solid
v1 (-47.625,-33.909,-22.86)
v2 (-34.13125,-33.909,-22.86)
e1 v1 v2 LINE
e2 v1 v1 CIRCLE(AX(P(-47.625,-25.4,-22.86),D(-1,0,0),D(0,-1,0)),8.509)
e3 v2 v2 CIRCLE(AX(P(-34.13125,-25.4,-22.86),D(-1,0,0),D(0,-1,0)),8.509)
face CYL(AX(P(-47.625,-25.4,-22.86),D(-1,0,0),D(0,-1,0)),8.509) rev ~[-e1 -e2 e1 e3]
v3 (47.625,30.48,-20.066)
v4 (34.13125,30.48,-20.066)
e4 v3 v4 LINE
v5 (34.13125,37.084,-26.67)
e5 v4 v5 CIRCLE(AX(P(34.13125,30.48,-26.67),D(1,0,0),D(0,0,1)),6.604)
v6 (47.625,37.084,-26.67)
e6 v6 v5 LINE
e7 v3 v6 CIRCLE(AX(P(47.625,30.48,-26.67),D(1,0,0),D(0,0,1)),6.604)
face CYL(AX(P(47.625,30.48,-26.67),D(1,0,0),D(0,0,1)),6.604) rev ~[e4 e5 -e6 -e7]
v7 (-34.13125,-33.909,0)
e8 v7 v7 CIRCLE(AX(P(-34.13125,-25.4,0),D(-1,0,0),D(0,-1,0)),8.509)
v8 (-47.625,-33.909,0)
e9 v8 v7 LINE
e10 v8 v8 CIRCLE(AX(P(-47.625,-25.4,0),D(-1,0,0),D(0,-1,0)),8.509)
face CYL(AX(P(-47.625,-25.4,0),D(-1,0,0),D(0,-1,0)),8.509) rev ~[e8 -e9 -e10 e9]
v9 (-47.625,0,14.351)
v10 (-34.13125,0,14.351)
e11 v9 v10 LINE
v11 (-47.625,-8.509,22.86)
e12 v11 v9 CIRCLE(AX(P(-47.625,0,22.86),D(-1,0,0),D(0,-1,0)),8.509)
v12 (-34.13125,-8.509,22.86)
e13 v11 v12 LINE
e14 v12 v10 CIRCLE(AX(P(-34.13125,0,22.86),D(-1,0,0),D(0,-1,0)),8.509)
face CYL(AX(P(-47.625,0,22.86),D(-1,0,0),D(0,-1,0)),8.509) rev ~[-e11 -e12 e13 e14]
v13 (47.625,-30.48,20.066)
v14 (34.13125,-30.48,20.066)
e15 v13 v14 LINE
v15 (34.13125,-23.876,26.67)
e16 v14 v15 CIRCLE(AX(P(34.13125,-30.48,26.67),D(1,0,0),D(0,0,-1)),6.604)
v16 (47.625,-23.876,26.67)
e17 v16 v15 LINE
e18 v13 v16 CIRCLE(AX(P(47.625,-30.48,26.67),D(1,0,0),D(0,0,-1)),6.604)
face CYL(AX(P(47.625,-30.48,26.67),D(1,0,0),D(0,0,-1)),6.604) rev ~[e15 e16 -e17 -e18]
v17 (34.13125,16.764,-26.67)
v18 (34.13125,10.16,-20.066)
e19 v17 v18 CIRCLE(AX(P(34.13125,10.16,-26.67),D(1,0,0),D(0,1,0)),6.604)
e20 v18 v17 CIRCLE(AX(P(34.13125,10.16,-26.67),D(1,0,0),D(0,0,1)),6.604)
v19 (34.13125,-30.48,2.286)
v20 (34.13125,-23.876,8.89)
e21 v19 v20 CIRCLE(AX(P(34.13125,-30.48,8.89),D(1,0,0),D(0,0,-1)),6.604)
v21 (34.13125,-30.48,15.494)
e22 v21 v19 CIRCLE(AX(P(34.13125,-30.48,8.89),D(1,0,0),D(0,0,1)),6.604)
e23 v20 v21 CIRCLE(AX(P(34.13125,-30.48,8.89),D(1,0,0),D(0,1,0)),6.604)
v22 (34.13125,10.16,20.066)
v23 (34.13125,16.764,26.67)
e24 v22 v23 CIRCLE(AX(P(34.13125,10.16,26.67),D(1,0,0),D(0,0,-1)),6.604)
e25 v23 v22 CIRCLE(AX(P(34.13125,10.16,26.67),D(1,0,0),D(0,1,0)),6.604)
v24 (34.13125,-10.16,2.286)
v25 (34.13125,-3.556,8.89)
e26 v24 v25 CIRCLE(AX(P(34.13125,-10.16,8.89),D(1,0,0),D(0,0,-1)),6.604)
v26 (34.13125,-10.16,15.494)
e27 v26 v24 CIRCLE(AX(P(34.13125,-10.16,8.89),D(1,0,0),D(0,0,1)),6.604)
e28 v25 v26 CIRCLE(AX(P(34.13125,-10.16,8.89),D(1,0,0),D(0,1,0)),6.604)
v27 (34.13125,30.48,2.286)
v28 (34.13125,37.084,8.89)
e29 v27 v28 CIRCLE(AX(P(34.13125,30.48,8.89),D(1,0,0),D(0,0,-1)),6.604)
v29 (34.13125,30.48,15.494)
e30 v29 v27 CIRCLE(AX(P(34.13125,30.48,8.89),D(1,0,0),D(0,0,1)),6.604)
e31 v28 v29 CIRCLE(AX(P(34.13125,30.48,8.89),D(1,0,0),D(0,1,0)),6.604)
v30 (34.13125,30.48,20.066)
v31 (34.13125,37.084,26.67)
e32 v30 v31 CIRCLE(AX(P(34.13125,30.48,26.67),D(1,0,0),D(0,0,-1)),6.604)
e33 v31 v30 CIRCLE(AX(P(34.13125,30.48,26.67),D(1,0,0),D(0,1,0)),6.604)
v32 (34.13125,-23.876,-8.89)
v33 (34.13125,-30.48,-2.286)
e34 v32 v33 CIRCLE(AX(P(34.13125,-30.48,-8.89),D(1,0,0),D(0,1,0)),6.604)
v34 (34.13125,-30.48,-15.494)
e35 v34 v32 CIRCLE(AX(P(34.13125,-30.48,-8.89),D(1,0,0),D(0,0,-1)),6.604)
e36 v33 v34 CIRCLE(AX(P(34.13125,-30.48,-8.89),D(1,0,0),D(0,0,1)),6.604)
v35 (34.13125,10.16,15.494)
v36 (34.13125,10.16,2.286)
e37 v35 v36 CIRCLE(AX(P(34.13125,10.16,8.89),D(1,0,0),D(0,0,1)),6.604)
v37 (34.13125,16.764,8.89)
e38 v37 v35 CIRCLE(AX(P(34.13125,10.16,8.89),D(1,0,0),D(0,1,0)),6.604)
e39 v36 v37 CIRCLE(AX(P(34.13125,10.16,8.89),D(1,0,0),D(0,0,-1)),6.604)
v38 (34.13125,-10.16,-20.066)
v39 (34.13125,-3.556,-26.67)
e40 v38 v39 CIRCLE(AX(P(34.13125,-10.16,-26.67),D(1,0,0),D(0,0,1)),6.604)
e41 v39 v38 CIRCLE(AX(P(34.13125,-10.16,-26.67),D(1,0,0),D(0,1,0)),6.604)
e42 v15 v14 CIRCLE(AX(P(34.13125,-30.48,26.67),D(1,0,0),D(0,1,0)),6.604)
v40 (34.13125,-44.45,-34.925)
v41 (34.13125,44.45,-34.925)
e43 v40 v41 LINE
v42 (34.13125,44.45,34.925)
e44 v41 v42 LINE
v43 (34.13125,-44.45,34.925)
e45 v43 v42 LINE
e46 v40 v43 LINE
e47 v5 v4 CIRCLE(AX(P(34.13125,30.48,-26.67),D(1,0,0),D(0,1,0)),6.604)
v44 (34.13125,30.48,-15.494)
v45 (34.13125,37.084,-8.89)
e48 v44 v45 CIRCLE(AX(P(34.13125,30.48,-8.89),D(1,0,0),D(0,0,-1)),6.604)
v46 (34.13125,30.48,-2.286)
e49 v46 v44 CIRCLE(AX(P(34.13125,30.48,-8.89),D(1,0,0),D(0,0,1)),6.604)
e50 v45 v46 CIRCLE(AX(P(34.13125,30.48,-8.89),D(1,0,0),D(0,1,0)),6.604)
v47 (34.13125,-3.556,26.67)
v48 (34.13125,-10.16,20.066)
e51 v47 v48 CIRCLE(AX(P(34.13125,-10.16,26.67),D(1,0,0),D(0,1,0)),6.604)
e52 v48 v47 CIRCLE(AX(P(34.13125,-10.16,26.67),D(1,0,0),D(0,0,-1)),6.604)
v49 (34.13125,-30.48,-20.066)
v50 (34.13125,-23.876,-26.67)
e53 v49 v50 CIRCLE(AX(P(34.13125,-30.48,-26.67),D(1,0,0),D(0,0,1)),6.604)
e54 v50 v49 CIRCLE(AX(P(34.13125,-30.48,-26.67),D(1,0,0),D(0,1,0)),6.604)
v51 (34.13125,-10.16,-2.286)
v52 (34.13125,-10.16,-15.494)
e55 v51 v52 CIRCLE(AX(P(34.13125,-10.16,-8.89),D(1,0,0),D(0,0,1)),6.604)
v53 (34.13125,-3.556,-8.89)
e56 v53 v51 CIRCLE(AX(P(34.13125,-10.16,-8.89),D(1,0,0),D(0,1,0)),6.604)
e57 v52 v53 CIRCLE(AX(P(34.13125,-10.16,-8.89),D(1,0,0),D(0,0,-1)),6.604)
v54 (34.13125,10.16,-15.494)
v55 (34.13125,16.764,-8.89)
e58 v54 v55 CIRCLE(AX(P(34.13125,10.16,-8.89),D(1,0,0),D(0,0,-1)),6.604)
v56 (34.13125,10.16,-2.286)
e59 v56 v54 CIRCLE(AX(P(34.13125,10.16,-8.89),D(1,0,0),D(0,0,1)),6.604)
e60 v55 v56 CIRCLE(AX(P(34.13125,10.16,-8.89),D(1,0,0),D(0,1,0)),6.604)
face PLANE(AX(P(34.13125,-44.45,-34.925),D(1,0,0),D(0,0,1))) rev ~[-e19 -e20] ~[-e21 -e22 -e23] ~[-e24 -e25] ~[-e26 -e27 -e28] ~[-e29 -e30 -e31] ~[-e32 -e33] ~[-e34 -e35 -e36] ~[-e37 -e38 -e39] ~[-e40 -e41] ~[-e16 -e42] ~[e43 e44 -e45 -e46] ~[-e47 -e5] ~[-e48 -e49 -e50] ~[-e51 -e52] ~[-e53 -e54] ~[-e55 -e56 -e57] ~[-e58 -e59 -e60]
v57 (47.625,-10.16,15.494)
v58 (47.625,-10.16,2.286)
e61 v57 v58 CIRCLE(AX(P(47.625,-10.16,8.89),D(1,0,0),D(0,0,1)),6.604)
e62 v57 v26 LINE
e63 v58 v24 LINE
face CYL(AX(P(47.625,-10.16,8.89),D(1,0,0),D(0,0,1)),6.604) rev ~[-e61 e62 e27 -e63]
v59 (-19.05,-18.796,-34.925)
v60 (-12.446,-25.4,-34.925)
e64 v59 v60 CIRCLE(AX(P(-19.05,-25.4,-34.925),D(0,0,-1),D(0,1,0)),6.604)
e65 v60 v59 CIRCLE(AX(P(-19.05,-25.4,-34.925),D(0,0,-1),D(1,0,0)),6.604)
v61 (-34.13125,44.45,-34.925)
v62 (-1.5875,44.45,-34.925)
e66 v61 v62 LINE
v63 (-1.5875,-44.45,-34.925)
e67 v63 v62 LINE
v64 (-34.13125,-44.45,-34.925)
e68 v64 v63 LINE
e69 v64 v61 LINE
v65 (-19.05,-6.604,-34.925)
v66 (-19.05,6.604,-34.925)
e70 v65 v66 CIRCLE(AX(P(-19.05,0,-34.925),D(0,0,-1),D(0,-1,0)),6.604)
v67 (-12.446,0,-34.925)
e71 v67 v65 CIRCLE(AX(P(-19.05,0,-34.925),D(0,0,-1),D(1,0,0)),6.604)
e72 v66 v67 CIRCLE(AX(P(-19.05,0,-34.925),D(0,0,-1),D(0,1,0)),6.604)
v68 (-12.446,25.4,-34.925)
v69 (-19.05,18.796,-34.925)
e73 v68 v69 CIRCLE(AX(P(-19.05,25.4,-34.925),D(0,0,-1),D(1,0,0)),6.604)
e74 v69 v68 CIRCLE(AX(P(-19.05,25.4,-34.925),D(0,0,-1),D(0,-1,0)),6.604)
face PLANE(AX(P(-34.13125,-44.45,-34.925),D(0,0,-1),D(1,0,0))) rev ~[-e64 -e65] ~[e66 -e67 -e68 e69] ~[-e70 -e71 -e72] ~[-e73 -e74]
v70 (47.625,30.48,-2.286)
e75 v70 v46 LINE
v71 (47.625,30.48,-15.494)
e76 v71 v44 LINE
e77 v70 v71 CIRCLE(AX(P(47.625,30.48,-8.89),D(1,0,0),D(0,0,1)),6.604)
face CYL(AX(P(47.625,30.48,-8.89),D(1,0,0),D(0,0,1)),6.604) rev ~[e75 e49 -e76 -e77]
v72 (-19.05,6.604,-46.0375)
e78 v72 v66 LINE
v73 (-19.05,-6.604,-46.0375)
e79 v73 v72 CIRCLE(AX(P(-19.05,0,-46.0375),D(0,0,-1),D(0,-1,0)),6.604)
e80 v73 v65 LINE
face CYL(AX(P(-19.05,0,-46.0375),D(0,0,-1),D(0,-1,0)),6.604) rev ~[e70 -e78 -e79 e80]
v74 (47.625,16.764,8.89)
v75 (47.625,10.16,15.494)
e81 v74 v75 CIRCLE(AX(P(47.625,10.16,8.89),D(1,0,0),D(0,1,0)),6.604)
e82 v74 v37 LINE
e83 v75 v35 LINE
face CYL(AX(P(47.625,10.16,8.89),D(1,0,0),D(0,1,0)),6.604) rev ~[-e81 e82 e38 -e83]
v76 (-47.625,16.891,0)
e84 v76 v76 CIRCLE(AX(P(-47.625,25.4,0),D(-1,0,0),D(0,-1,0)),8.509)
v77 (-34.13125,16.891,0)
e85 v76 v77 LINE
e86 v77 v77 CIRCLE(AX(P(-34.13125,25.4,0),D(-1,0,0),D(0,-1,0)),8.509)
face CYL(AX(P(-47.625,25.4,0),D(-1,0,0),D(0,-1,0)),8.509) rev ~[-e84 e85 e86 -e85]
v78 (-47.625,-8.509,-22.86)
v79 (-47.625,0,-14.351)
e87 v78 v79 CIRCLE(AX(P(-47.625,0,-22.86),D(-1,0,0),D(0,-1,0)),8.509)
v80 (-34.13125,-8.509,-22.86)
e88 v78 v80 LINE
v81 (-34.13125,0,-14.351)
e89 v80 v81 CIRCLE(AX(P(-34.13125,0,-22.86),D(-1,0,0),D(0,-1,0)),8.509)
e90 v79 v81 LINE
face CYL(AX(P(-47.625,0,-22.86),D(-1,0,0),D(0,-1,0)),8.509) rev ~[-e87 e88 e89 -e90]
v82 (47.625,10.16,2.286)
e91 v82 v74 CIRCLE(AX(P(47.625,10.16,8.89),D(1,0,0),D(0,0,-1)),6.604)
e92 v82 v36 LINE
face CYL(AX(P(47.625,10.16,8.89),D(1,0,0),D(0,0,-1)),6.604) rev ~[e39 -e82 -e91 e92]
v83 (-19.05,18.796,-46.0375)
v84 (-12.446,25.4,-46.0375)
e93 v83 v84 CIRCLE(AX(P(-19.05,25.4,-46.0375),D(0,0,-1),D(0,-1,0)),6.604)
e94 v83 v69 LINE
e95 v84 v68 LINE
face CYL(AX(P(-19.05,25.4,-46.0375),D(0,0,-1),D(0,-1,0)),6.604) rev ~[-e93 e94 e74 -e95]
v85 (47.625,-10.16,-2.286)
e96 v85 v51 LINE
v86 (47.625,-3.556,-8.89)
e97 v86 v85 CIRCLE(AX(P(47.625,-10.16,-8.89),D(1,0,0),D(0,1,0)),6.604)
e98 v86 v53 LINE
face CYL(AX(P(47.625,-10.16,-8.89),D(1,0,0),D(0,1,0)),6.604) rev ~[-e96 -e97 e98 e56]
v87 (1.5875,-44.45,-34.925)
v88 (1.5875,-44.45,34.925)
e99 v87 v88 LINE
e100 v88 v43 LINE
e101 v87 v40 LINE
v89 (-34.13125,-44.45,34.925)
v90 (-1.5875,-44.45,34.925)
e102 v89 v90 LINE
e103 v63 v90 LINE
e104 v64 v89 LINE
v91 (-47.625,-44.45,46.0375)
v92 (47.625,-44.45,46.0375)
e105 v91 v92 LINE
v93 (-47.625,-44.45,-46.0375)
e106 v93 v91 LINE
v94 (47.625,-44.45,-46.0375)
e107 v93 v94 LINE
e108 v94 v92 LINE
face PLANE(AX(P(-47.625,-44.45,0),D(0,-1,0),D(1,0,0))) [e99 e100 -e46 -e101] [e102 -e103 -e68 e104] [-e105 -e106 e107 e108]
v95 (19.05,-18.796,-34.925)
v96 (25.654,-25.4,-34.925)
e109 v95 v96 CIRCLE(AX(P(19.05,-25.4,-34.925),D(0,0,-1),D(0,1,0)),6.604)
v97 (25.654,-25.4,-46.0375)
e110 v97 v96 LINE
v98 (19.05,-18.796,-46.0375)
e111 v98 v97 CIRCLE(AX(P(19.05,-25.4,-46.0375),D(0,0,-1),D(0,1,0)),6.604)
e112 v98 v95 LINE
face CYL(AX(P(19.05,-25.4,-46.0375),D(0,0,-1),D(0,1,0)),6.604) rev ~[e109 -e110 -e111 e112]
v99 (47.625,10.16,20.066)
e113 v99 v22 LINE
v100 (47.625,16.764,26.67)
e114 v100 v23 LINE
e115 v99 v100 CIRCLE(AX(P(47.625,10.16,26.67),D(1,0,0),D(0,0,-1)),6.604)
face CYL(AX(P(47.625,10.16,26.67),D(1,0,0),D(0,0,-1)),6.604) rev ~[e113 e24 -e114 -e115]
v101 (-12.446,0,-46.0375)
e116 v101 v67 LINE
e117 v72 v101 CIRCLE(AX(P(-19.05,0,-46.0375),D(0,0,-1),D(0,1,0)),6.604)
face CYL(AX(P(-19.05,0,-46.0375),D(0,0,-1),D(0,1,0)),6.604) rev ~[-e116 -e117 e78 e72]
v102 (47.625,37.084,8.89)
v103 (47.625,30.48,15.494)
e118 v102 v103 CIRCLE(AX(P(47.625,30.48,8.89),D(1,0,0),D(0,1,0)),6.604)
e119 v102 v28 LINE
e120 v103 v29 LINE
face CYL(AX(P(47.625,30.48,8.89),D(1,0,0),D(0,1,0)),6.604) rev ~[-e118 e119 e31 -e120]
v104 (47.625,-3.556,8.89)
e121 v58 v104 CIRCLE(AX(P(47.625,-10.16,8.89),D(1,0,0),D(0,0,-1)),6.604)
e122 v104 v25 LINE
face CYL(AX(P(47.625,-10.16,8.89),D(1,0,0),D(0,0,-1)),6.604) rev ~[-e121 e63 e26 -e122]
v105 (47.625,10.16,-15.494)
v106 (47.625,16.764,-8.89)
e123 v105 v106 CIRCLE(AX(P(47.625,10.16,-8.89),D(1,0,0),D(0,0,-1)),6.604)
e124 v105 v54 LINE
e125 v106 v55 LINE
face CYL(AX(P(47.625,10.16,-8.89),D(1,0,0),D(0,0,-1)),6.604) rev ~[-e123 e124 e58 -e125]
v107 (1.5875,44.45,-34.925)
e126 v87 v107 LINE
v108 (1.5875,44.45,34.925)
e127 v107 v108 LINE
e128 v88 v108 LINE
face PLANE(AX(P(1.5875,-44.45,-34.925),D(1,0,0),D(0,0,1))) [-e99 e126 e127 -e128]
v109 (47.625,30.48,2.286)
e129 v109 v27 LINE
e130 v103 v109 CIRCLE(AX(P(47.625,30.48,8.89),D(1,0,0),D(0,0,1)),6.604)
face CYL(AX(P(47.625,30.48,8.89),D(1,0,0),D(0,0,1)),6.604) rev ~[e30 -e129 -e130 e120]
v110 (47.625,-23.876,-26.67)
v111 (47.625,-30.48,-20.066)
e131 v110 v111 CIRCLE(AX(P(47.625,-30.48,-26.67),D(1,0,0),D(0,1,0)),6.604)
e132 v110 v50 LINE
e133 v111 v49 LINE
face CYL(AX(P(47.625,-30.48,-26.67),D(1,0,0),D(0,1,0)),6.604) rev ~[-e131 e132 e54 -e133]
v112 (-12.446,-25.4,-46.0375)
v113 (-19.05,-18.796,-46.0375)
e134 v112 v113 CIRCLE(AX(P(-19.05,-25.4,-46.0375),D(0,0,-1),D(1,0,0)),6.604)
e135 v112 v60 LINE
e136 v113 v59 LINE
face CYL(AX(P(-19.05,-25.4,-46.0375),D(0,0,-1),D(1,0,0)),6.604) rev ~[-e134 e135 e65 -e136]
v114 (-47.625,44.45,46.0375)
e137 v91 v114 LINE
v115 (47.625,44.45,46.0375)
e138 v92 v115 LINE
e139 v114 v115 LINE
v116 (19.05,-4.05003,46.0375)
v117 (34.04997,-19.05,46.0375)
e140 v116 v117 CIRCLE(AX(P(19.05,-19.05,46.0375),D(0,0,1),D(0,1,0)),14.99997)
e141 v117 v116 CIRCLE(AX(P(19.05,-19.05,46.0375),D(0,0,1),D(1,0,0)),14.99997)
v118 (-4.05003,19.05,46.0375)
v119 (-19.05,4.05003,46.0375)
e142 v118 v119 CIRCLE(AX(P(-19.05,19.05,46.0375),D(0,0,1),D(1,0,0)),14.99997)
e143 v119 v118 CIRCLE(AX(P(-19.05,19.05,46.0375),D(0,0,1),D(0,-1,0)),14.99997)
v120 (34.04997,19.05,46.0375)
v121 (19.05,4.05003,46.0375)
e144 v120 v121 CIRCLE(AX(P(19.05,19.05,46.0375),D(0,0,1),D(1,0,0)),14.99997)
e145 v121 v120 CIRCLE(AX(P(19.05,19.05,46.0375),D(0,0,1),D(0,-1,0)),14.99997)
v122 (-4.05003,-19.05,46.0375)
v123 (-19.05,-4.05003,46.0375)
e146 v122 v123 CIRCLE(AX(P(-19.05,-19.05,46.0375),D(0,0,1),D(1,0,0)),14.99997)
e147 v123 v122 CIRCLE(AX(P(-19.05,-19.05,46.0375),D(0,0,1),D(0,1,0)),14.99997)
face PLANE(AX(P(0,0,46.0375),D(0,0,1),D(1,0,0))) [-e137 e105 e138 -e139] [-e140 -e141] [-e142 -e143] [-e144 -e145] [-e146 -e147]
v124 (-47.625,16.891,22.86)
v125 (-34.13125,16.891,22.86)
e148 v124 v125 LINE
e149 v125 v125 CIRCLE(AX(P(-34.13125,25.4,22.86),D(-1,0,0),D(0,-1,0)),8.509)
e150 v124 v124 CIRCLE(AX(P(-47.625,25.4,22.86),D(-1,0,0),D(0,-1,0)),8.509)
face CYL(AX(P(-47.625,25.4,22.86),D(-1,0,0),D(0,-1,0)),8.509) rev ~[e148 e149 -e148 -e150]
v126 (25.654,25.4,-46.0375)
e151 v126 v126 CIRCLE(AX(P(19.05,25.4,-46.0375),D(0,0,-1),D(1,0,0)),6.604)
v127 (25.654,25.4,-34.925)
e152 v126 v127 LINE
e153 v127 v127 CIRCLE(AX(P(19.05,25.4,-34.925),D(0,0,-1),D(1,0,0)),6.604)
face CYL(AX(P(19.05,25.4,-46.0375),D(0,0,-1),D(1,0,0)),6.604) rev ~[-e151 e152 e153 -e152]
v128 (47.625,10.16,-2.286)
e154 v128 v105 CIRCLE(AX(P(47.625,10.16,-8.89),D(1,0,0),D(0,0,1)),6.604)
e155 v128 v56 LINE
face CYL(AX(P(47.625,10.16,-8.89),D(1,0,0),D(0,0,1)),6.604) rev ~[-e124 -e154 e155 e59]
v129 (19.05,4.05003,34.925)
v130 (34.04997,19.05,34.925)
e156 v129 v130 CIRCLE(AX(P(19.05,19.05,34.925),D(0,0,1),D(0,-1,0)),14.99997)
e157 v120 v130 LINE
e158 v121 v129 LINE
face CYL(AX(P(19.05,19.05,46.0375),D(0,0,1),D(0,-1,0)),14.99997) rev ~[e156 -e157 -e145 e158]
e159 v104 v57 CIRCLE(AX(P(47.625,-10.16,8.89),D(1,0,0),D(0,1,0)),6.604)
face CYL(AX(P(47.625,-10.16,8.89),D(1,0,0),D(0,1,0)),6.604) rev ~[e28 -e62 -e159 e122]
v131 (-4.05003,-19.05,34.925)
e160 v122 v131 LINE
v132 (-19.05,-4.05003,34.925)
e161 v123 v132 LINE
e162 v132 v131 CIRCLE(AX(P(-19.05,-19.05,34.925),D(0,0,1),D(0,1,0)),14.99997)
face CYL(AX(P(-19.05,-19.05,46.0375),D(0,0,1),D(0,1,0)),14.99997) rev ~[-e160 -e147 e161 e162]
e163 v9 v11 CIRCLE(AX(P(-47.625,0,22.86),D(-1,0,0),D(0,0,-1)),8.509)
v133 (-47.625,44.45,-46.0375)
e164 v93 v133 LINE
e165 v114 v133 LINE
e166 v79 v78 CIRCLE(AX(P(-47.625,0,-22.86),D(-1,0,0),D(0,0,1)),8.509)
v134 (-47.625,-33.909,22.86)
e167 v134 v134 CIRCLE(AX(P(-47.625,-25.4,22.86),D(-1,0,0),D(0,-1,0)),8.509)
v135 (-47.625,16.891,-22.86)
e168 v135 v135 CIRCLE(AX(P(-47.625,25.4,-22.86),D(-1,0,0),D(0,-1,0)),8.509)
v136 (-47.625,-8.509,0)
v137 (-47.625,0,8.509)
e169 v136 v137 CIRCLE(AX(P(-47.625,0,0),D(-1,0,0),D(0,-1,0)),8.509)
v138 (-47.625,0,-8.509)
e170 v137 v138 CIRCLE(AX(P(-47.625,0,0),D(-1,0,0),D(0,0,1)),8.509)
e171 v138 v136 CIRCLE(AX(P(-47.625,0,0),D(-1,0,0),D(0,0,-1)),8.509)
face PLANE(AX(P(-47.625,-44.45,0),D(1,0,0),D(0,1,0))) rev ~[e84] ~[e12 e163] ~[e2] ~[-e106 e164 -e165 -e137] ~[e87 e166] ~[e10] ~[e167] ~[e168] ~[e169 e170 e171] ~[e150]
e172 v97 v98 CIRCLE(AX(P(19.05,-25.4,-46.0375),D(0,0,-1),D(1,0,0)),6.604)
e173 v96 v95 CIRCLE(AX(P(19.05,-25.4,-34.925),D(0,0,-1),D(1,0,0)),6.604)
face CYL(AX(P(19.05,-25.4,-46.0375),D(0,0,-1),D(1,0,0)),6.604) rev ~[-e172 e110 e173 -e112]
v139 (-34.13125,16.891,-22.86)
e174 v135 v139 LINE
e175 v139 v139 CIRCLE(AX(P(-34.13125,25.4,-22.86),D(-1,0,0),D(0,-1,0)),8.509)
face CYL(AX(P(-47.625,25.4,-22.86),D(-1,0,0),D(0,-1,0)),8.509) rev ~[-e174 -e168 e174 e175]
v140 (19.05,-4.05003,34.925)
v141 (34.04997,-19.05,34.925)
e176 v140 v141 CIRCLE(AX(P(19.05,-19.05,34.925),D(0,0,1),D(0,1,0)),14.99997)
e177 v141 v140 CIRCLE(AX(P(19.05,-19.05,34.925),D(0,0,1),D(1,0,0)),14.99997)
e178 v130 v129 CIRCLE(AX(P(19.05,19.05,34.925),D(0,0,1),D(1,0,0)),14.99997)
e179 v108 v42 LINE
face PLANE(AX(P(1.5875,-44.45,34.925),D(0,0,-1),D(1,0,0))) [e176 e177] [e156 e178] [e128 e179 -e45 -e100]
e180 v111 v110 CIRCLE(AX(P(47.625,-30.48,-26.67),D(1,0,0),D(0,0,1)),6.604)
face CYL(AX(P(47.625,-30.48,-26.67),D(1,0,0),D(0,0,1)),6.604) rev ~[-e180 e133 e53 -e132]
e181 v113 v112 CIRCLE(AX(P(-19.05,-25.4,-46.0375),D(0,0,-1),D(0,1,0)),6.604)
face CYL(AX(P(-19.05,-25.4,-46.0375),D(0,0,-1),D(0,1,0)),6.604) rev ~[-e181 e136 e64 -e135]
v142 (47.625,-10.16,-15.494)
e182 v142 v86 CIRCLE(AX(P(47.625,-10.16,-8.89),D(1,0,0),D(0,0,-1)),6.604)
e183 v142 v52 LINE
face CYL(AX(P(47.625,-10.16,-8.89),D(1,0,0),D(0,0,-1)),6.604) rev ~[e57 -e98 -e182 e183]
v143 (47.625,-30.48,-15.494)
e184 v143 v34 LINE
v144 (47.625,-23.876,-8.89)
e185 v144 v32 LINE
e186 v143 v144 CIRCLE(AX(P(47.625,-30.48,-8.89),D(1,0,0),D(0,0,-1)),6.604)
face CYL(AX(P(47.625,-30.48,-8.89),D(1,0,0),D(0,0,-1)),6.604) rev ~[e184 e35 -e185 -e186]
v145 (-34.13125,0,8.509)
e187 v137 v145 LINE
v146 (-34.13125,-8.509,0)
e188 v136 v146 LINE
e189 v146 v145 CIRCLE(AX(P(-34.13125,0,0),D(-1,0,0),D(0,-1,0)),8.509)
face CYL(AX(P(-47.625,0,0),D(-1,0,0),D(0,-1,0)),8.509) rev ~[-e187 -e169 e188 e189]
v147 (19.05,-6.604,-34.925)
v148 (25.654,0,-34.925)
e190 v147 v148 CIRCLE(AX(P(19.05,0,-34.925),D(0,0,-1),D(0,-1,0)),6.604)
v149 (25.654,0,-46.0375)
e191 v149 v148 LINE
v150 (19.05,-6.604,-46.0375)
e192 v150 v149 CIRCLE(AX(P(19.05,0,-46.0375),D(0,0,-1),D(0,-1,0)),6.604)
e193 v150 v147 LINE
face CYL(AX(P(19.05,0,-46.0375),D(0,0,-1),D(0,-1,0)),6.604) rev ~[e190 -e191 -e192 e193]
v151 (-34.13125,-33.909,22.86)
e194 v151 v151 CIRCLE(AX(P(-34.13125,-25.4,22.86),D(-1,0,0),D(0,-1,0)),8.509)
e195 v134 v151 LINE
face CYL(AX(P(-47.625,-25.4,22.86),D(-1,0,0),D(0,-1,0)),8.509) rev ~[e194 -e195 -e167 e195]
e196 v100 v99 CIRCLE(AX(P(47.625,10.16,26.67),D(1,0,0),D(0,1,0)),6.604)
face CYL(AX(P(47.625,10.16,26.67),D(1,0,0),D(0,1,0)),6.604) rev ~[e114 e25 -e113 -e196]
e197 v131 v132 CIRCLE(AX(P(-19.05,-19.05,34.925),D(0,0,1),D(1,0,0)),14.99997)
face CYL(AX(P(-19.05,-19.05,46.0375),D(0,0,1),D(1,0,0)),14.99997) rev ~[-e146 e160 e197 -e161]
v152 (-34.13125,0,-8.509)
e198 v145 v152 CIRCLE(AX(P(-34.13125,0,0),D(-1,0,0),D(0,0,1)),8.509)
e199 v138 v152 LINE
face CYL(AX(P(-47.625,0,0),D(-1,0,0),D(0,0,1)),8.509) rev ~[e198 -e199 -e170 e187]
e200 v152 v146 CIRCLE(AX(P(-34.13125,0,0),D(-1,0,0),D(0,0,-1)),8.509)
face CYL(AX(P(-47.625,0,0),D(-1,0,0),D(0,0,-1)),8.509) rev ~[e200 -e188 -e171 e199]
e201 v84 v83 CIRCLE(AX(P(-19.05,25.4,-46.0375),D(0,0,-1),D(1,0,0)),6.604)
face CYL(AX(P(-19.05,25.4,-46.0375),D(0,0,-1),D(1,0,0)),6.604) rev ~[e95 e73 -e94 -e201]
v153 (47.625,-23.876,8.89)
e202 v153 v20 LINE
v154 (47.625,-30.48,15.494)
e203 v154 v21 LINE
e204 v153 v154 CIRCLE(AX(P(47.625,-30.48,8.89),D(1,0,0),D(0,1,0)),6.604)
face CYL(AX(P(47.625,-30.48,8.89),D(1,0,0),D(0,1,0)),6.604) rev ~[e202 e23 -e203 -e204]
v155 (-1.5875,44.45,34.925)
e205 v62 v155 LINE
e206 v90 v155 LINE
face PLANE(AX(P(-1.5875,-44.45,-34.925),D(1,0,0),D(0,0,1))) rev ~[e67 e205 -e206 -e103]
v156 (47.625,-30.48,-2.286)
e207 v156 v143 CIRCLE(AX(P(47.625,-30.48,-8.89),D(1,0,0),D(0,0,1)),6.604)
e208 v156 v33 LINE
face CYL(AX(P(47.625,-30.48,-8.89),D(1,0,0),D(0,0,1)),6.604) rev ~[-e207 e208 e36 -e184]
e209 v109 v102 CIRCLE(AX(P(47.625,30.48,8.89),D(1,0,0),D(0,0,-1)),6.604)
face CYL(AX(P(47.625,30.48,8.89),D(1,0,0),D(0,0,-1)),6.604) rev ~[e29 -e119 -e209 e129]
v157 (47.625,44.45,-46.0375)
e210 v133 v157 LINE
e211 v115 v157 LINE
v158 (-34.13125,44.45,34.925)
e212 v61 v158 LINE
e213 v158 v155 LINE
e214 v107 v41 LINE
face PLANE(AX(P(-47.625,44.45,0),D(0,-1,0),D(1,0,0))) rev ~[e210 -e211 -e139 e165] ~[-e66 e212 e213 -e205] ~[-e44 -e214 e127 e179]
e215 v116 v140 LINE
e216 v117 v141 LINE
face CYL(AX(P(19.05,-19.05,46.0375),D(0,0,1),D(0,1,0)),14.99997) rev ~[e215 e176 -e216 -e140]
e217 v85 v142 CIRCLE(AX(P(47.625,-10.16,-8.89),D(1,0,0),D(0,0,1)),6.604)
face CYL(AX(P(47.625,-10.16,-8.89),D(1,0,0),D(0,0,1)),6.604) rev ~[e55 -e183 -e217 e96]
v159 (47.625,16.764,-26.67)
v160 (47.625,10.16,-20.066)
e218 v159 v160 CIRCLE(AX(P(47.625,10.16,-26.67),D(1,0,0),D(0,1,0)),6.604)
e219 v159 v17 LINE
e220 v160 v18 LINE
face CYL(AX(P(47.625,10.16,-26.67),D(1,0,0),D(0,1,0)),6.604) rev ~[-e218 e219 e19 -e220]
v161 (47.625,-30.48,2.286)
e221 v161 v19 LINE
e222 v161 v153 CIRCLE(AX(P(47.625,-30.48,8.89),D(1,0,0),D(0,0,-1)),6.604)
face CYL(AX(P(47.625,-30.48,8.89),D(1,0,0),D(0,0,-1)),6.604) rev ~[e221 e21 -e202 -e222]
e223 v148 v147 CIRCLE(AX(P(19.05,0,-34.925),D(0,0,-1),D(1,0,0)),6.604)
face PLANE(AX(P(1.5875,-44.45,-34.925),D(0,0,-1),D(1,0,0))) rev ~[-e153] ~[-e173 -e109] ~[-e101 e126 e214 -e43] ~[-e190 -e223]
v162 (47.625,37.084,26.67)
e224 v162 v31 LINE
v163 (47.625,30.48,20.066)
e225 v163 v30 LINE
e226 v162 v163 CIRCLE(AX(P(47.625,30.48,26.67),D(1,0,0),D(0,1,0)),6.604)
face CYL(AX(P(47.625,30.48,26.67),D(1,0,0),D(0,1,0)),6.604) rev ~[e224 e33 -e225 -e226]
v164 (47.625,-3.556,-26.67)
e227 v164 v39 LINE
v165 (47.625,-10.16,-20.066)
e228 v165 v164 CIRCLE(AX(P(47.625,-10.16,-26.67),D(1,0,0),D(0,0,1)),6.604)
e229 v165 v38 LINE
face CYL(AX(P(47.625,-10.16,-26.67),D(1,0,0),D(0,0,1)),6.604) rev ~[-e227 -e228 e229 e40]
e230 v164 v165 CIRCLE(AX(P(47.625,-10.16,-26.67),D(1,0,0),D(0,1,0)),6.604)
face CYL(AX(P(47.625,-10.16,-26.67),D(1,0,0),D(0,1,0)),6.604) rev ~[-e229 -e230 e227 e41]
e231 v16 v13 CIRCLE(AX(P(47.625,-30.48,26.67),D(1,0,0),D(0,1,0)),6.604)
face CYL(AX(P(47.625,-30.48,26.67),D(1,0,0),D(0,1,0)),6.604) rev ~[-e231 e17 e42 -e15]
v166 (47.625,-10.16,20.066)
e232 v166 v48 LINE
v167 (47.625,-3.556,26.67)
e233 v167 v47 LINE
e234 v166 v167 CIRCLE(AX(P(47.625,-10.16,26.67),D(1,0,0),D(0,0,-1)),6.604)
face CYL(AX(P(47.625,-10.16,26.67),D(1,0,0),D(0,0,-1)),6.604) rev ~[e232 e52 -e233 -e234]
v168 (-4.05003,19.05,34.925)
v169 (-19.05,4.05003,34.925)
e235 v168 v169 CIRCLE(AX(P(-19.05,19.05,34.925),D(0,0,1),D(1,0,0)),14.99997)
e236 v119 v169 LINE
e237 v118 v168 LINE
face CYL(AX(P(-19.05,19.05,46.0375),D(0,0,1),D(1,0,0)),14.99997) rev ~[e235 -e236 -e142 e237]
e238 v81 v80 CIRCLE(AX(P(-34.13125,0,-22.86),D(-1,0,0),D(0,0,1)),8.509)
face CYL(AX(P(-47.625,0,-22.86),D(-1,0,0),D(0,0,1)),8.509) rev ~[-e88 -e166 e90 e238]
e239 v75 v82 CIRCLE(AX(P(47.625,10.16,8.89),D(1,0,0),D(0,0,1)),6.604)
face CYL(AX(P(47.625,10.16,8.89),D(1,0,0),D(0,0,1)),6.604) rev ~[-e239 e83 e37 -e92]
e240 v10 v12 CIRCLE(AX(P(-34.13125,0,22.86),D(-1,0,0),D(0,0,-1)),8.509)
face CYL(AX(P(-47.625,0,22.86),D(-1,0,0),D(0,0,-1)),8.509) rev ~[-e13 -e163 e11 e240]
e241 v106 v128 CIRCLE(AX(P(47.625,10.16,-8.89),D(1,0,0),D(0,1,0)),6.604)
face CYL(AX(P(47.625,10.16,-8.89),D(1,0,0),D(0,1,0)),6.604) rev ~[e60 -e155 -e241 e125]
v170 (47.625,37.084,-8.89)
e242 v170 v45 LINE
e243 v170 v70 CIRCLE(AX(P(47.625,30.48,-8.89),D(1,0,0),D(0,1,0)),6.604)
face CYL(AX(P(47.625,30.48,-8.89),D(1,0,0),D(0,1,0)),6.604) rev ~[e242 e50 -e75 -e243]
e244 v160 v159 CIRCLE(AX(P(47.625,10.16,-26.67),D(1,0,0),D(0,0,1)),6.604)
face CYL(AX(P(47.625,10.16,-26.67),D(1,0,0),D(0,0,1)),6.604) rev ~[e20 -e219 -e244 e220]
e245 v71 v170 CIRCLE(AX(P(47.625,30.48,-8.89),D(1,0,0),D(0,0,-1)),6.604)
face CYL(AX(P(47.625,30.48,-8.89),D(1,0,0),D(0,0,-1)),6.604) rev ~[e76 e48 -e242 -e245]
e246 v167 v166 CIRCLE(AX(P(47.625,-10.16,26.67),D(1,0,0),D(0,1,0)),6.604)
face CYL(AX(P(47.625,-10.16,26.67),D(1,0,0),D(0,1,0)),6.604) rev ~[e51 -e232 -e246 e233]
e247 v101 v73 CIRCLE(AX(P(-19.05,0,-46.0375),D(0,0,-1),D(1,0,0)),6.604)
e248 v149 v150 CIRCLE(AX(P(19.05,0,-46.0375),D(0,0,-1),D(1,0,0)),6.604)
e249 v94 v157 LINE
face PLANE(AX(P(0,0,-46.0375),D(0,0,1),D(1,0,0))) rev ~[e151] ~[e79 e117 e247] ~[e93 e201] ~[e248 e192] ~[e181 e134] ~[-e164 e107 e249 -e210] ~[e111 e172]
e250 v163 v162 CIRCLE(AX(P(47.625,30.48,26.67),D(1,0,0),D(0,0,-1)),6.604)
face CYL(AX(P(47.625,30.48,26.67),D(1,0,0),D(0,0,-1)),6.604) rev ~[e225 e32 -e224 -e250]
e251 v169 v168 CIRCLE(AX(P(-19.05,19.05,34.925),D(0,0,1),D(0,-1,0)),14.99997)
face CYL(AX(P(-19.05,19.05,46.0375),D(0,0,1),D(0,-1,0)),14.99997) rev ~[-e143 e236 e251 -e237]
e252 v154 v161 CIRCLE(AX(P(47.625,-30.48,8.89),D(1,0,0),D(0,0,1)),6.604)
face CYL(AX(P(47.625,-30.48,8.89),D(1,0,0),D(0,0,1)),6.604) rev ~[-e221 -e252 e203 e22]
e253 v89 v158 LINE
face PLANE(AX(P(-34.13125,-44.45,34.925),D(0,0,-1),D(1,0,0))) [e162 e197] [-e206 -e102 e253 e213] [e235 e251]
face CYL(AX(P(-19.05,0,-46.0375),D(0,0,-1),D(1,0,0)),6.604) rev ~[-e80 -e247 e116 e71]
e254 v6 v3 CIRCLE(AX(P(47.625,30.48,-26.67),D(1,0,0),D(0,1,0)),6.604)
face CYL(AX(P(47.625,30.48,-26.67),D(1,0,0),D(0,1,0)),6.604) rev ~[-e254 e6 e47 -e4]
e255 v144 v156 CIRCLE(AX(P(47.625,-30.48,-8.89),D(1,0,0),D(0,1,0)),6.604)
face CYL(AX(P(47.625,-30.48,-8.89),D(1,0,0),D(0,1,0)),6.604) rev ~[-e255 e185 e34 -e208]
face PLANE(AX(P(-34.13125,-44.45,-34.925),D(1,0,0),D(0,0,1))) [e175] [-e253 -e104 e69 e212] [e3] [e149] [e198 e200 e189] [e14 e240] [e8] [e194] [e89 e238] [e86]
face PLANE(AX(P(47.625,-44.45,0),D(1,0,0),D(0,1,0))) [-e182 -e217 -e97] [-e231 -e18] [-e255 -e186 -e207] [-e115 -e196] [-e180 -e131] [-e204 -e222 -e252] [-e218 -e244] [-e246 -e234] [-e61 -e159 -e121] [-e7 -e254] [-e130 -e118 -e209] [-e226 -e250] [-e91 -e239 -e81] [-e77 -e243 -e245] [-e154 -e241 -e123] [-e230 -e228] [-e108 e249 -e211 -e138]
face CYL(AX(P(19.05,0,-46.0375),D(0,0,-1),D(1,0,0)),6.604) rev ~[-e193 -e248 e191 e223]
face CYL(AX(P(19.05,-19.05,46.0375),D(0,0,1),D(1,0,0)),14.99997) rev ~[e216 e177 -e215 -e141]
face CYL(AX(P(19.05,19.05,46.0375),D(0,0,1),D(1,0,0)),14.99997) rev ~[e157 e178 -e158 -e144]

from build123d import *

# Parameters (mm, degrees)
F0_W          = 95.25
F0_H          = 88.9
F1_DEPTH      = 46.0375
F1_DEPTH_BACK = 46.0375
F2_W          = 32.54375
F2_H          = 69.85
F3_DEPTH      = 88.9
F5_DEPTH      = 11.1125
F6_R          = 8.509
F7_DEPTH      = 13.49375
F8_R          = 6.604
F9_DEPTH      = 11.1125
F11_DEPTH     = 13.49375


with BuildPart() as f1:
    # F0 (on Top) → F1 (new body, two sides)
    with BuildSketch(Plane.XY) as f1_sk:
        Rectangle(F0_W, F0_H)
    extrude(amount=F1_DEPTH)
    extrude(f1_sk.sketch, amount=-F1_DEPTH_BACK)

    # F2 (on face) → F3 (cut, through all)
    with BuildSketch(Plane.XZ.offset(44.45)):
        with Locations((17.859375, 0)):
            Rectangle(F2_W, F2_H)
        with Locations((-17.859375, 0)):
            Rectangle(F2_W, F2_H)
    extrude(amount=-F3_DEPTH, mode=Mode.SUBTRACT)

    # F4 (on face) → F5 (cut, through all)
    with BuildSketch(Plane.XY.offset(46.0375)):
        with BuildLine():
            ThreePointArc((-4.05003, 19.05), (-29.6565805046, 29.6565805046), (-19.05, 4.05003))
            ThreePointArc((-19.05, 4.05003), (-8.4434194954, 8.4434194954), (-4.05003, 19.05))
        make_face()
        with BuildLine():
            ThreePointArc((34.04997, 19.05), (8.4434194954, 29.6565805046), (19.05, 4.05003))
            ThreePointArc((19.05, 4.05003), (29.6565805046, 8.4434194954), (34.04997, 19.05))
        make_face()
        with BuildLine():
            ThreePointArc((34.04997, -19.05), (29.6565805046, -8.4434194954), (19.05, -4.05003))
            ThreePointArc((19.05, -4.05003), (8.4434194954, -29.6565805046), (34.04997, -19.05))
        make_face()
        with BuildLine():
            ThreePointArc((-4.05003, -19.05), (-8.4434194954, -8.4434194954), (-19.05, -4.05003))
            ThreePointArc((-19.05, -4.05003), (-29.6565805046, -29.6565805046), (-4.05003, -19.05))
        make_face()
    extrude(amount=-F5_DEPTH, mode=Mode.SUBTRACT)

    # F6 (on face) → F7 (cut, through all)
    with BuildSketch(Plane(origin=(-47.625, 0, 0), x_dir=(0, -1, 0), z_dir=(-1, 0, 0))):
        with BuildLine():
            ThreePointArc((0, -8.509), (6.0167716011, -6.0167716011), (8.509, 0))
            ThreePointArc((8.509, 0), (6.0167716011, 6.0167716011), (0, 8.509))
            Line((0, 8.509), (0, 0))
            Line((0, 0), (0, -8.509))
        make_face()
        with BuildLine():
            ThreePointArc((8.509, -22.86), (6.0167716011, -16.8432283989), (0, -14.351))
            ThreePointArc((0, -14.351), (-6.0167716011, -28.8767716011), (8.509, -22.86))
        make_face()
        with BuildLine():
            ThreePointArc((8.509, 22.86), (-6.0167716011, 28.8767716011), (0, 14.351))
            ThreePointArc((0, 14.351), (6.0167716011, 16.8432283989), (8.509, 22.86))
        make_face()
        with BuildLine():
            Line((0, 0), (0, 8.509))
            ThreePointArc((0, 8.509), (-8.509, 0), (0, -8.509))
            Line((0, -8.509), (0, 0))
        make_face()
        with Locations((-25.4, 22.86)):
            Circle(F6_R)
        with Locations((-25.4, 0)):
            Circle(F6_R)
        with Locations((-25.4, -22.86)):
            Circle(F6_R)
        with Locations((25.4, 22.86)):
            Circle(F6_R)
        with Locations((25.4, 0)):
            Circle(F6_R)
        with Locations((25.4, -22.86)):
            Circle(F6_R)
    extrude(amount=-F7_DEPTH, mode=Mode.SUBTRACT)

    # F8 (on face) → F9 (cut, through all)
    with BuildSketch(Plane(origin=(0, 0, -46.0375), x_dir=(1, 0, 0), z_dir=(0, 0, -1))):
        with BuildLine():
            ThreePointArc((-19.05, -6.604), (-14.380266817, -4.669733183), (-12.446, 0))
            Line((-12.446, 0), (-19.05, 0))
            Line((-19.05, 0), (-19.05, -6.604))
        make_face()
        with BuildLine():
            Line((-19.05, 0), (-12.446, 0))
            ThreePointArc((-12.446, 0), (-14.380266817, 4.669733183), (-19.05, 6.604))
            Line((-19.05, 6.604), (-19.05, 0))
        make_face()
        with BuildLine():
            ThreePointArc((-12.446, -25.4), (-14.380266817, -20.730266817), (-19.05, -18.796))
            ThreePointArc((-19.05, -18.796), (-23.719733183, -30.069733183), (-12.446, -25.4))
        make_face()
        with BuildLine():
            ThreePointArc((-12.446, 25.4), (-23.719733183, 30.069733183), (-19.05, 18.796))
            ThreePointArc((-19.05, 18.796), (-14.380266817, 20.730266817), (-12.446, 25.4))
        make_face()
        with BuildLine():
            Line((-19.05, -6.604), (-19.05, 0))
            Line((-19.05, 0), (-19.05, 6.604))
            ThreePointArc((-19.05, 6.604), (-25.654, 0), (-19.05, -6.604))
        make_face()
        with BuildLine():
            ThreePointArc((19.05, 18.796), (23.719733183, 20.730266817), (25.654, 25.4))
            ThreePointArc((25.654, 25.4), (14.380266817, 30.069733183), (19.05, 18.796))
        make_face()
        with BuildLine():
            ThreePointArc((25.654, 0), (23.719733183, 4.669733183), (19.05, 6.604))
            ThreePointArc((19.05, 6.604), (14.380266817, -4.669733183), (25.654, 0))
        make_face()
        with Locations((19.05, -25.4)):
            Circle(F8_R)
    extrude(amount=-F9_DEPTH, mode=Mode.SUBTRACT)

    # F10 (on face) → F11 (cut, through all)
    with BuildSketch(Plane.YZ.offset(47.625)):
        with BuildLine():
            ThreePointArc((-23.876, -26.67), (-25.810266817, -22.000266817), (-30.48, -20.066))
            ThreePointArc((-30.48, -20.066), (-35.149733183, -31.339733183), (-23.876, -26.67))
        make_face()
        with BuildLine():
            ThreePointArc((-23.876, -8.89), (-25.810266817, -4.220266817), (-30.48, -2.286))
            Line((-30.48, -2.286), (-30.48, -8.89))
            Line((-30.48, -8.89), (-30.48, -15.494))
            ThreePointArc((-30.48, -15.494), (-25.810266817, -13.559733183), (-23.876, -8.89))
        make_face()
        with BuildLine():
            Line((-30.48, -8.89), (-30.48, -2.286))
            ThreePointArc((-30.48, -2.286), (-37.084, -8.89), (-30.48, -15.494))
            Line((-30.48, -15.494), (-30.48, -8.89))
        make_face()
        with BuildLine():
            ThreePointArc((-23.876, 26.67), (-35.149733183, 31.339733183), (-30.48, 20.066))
            ThreePointArc((-30.48, 20.066), (-25.810266817, 22.000266817), (-23.876, 26.67))
        make_face()
        with BuildLine():
            ThreePointArc((-30.48, 15.494), (-37.084, 8.89), (-30.48, 2.286))
            Line((-30.48, 2.286), (-30.48, 8.89))
            Line((-30.48, 8.89), (-30.48, 15.494))
        make_face()
        with BuildLine():
            Line((-30.48, 8.89), (-30.48, 2.286))
            ThreePointArc((-30.48, 2.286), (-25.810266817, 4.220266817), (-23.876, 8.89))
            ThreePointArc((-23.876, 8.89), (-25.810266817, 13.559733183), (-30.48, 15.494))
            Line((-30.48, 15.494), (-30.48, 8.89))
        make_face()
        with BuildLine():
            ThreePointArc((-3.556, -26.67), (-5.490266817, -22.000266817), (-10.16, -20.066))
            ThreePointArc((-10.16, -20.066), (-14.829733183, -31.339733183), (-3.556, -26.67))
        make_face()
        with BuildLine():
            ThreePointArc((-3.556, -8.89), (-5.490266817, -4.220266817), (-10.16, -2.286))
            Line((-10.16, -2.286), (-10.16, -8.89))
            Line((-10.16, -8.89), (-10.16, -15.494))
            ThreePointArc((-10.16, -15.494), (-5.490266817, -13.559733183), (-3.556, -8.89))
        make_face()
        with BuildLine():
            Line((-10.16, -8.89), (-10.16, -2.286))
            ThreePointArc((-10.16, -2.286), (-16.764, -8.89), (-10.16, -15.494))
            Line((-10.16, -15.494), (-10.16, -8.89))
        make_face()
        with BuildLine():
            ThreePointArc((-3.556, 26.67), (-14.829733183, 31.339733183), (-10.16, 20.066))
            ThreePointArc((-10.16, 20.066), (-5.490266817, 22.000266817), (-3.556, 26.67))
        make_face()
        with BuildLine():
            ThreePointArc((-10.16, 15.494), (-16.764, 8.89), (-10.16, 2.286))
            Line((-10.16, 2.286), (-10.16, 8.89))
            Line((-10.16, 8.89), (-10.16, 15.494))
        make_face()
        with BuildLine():
            Line((-10.16, 8.89), (-10.16, 2.286))
            ThreePointArc((-10.16, 2.286), (-5.490266817, 4.220266817), (-3.556, 8.89))
            ThreePointArc((-3.556, 8.89), (-5.490266817, 13.559733183), (-10.16, 15.494))
            Line((-10.16, 15.494), (-10.16, 8.89))
        make_face()
        with BuildLine():
            ThreePointArc((10.16, 20.066), (14.829733183, 22.000266817), (16.764, 26.67))
            ThreePointArc((16.764, 26.67), (5.490266817, 31.339733183), (10.16, 20.066))
        make_face()
        with BuildLine():
            ThreePointArc((16.764, -26.67), (14.829733183, -22.000266817), (10.16, -20.066))
            ThreePointArc((10.16, -20.066), (5.490266817, -31.339733183), (16.764, -26.67))
        make_face()
        with BuildLine():
            ThreePointArc((16.764, -8.89), (14.829733183, -4.220266817), (10.16, -2.286))
            Line((10.16, -2.286), (10.16, -8.89))
            Line((10.16, -8.89), (10.16, -15.494))
            ThreePointArc((10.16, -15.494), (14.829733183, -13.559733183), (16.764, -8.89))
        make_face()
        with BuildLine():
            Line((10.16, -8.89), (10.16, -2.286))
            ThreePointArc((10.16, -2.286), (3.556, -8.89), (10.16, -15.494))
            Line((10.16, -15.494), (10.16, -8.89))
        make_face()
        with BuildLine():
            ThreePointArc((16.764, 8.89), (14.829733183, 13.559733183), (10.16, 15.494))
            Line((10.16, 15.494), (10.16, 8.89))
            Line((10.16, 8.89), (10.16, 2.286))
            ThreePointArc((10.16, 2.286), (14.829733183, 4.220266817), (16.764, 8.89))
        make_face()
        with BuildLine():
            Line((10.16, 8.89), (10.16, 15.494))
            ThreePointArc((10.16, 15.494), (3.556, 8.89), (10.16, 2.286))
            Line((10.16, 2.286), (10.16, 8.89))
        make_face()
        with BuildLine():
            ThreePointArc((30.48, 20.066), (35.149733183, 22.000266817), (37.084, 26.67))
            ThreePointArc((37.084, 26.67), (25.810266817, 31.339733183), (30.48, 20.066))
        make_face()
        with BuildLine():
            ThreePointArc((37.084, -26.67), (35.149733183, -22.000266817), (30.48, -20.066))
            ThreePointArc((30.48, -20.066), (25.810266817, -31.339733183), (37.084, -26.67))
        make_face()
        with BuildLine():
            ThreePointArc((37.084, -8.89), (35.149733183, -4.220266817), (30.48, -2.286))
            Line((30.48, -2.286), (30.48, -8.89))
            Line((30.48, -8.89), (30.48, -15.494))
            ThreePointArc((30.48, -15.494), (35.149733183, -13.559733183), (37.084, -8.89))
        make_face()
        with BuildLine():
            Line((30.48, -8.89), (30.48, -2.286))
            ThreePointArc((30.48, -2.286), (23.876, -8.89), (30.48, -15.494))
            Line((30.48, -15.494), (30.48, -8.89))
        make_face()
        with BuildLine():
            ThreePointArc((37.084, 8.89), (35.149733183, 13.559733183), (30.48, 15.494))
            Line((30.48, 15.494), (30.48, 8.89))
            Line((30.48, 8.89), (30.48, 2.286))
            ThreePointArc((30.48, 2.286), (35.149733183, 4.220266817), (37.084, 8.89))
        make_face()
        with BuildLine():
            Line((30.48, 8.89), (30.48, 15.494))
            ThreePointArc((30.48, 15.494), (23.876, 8.89), (30.48, 2.286))
            Line((30.48, 2.286), (30.48, 8.89))
        make_face()
    extrude(amount=-F11_DEPTH, mode=Mode.SUBTRACT)


solid = f1.part
